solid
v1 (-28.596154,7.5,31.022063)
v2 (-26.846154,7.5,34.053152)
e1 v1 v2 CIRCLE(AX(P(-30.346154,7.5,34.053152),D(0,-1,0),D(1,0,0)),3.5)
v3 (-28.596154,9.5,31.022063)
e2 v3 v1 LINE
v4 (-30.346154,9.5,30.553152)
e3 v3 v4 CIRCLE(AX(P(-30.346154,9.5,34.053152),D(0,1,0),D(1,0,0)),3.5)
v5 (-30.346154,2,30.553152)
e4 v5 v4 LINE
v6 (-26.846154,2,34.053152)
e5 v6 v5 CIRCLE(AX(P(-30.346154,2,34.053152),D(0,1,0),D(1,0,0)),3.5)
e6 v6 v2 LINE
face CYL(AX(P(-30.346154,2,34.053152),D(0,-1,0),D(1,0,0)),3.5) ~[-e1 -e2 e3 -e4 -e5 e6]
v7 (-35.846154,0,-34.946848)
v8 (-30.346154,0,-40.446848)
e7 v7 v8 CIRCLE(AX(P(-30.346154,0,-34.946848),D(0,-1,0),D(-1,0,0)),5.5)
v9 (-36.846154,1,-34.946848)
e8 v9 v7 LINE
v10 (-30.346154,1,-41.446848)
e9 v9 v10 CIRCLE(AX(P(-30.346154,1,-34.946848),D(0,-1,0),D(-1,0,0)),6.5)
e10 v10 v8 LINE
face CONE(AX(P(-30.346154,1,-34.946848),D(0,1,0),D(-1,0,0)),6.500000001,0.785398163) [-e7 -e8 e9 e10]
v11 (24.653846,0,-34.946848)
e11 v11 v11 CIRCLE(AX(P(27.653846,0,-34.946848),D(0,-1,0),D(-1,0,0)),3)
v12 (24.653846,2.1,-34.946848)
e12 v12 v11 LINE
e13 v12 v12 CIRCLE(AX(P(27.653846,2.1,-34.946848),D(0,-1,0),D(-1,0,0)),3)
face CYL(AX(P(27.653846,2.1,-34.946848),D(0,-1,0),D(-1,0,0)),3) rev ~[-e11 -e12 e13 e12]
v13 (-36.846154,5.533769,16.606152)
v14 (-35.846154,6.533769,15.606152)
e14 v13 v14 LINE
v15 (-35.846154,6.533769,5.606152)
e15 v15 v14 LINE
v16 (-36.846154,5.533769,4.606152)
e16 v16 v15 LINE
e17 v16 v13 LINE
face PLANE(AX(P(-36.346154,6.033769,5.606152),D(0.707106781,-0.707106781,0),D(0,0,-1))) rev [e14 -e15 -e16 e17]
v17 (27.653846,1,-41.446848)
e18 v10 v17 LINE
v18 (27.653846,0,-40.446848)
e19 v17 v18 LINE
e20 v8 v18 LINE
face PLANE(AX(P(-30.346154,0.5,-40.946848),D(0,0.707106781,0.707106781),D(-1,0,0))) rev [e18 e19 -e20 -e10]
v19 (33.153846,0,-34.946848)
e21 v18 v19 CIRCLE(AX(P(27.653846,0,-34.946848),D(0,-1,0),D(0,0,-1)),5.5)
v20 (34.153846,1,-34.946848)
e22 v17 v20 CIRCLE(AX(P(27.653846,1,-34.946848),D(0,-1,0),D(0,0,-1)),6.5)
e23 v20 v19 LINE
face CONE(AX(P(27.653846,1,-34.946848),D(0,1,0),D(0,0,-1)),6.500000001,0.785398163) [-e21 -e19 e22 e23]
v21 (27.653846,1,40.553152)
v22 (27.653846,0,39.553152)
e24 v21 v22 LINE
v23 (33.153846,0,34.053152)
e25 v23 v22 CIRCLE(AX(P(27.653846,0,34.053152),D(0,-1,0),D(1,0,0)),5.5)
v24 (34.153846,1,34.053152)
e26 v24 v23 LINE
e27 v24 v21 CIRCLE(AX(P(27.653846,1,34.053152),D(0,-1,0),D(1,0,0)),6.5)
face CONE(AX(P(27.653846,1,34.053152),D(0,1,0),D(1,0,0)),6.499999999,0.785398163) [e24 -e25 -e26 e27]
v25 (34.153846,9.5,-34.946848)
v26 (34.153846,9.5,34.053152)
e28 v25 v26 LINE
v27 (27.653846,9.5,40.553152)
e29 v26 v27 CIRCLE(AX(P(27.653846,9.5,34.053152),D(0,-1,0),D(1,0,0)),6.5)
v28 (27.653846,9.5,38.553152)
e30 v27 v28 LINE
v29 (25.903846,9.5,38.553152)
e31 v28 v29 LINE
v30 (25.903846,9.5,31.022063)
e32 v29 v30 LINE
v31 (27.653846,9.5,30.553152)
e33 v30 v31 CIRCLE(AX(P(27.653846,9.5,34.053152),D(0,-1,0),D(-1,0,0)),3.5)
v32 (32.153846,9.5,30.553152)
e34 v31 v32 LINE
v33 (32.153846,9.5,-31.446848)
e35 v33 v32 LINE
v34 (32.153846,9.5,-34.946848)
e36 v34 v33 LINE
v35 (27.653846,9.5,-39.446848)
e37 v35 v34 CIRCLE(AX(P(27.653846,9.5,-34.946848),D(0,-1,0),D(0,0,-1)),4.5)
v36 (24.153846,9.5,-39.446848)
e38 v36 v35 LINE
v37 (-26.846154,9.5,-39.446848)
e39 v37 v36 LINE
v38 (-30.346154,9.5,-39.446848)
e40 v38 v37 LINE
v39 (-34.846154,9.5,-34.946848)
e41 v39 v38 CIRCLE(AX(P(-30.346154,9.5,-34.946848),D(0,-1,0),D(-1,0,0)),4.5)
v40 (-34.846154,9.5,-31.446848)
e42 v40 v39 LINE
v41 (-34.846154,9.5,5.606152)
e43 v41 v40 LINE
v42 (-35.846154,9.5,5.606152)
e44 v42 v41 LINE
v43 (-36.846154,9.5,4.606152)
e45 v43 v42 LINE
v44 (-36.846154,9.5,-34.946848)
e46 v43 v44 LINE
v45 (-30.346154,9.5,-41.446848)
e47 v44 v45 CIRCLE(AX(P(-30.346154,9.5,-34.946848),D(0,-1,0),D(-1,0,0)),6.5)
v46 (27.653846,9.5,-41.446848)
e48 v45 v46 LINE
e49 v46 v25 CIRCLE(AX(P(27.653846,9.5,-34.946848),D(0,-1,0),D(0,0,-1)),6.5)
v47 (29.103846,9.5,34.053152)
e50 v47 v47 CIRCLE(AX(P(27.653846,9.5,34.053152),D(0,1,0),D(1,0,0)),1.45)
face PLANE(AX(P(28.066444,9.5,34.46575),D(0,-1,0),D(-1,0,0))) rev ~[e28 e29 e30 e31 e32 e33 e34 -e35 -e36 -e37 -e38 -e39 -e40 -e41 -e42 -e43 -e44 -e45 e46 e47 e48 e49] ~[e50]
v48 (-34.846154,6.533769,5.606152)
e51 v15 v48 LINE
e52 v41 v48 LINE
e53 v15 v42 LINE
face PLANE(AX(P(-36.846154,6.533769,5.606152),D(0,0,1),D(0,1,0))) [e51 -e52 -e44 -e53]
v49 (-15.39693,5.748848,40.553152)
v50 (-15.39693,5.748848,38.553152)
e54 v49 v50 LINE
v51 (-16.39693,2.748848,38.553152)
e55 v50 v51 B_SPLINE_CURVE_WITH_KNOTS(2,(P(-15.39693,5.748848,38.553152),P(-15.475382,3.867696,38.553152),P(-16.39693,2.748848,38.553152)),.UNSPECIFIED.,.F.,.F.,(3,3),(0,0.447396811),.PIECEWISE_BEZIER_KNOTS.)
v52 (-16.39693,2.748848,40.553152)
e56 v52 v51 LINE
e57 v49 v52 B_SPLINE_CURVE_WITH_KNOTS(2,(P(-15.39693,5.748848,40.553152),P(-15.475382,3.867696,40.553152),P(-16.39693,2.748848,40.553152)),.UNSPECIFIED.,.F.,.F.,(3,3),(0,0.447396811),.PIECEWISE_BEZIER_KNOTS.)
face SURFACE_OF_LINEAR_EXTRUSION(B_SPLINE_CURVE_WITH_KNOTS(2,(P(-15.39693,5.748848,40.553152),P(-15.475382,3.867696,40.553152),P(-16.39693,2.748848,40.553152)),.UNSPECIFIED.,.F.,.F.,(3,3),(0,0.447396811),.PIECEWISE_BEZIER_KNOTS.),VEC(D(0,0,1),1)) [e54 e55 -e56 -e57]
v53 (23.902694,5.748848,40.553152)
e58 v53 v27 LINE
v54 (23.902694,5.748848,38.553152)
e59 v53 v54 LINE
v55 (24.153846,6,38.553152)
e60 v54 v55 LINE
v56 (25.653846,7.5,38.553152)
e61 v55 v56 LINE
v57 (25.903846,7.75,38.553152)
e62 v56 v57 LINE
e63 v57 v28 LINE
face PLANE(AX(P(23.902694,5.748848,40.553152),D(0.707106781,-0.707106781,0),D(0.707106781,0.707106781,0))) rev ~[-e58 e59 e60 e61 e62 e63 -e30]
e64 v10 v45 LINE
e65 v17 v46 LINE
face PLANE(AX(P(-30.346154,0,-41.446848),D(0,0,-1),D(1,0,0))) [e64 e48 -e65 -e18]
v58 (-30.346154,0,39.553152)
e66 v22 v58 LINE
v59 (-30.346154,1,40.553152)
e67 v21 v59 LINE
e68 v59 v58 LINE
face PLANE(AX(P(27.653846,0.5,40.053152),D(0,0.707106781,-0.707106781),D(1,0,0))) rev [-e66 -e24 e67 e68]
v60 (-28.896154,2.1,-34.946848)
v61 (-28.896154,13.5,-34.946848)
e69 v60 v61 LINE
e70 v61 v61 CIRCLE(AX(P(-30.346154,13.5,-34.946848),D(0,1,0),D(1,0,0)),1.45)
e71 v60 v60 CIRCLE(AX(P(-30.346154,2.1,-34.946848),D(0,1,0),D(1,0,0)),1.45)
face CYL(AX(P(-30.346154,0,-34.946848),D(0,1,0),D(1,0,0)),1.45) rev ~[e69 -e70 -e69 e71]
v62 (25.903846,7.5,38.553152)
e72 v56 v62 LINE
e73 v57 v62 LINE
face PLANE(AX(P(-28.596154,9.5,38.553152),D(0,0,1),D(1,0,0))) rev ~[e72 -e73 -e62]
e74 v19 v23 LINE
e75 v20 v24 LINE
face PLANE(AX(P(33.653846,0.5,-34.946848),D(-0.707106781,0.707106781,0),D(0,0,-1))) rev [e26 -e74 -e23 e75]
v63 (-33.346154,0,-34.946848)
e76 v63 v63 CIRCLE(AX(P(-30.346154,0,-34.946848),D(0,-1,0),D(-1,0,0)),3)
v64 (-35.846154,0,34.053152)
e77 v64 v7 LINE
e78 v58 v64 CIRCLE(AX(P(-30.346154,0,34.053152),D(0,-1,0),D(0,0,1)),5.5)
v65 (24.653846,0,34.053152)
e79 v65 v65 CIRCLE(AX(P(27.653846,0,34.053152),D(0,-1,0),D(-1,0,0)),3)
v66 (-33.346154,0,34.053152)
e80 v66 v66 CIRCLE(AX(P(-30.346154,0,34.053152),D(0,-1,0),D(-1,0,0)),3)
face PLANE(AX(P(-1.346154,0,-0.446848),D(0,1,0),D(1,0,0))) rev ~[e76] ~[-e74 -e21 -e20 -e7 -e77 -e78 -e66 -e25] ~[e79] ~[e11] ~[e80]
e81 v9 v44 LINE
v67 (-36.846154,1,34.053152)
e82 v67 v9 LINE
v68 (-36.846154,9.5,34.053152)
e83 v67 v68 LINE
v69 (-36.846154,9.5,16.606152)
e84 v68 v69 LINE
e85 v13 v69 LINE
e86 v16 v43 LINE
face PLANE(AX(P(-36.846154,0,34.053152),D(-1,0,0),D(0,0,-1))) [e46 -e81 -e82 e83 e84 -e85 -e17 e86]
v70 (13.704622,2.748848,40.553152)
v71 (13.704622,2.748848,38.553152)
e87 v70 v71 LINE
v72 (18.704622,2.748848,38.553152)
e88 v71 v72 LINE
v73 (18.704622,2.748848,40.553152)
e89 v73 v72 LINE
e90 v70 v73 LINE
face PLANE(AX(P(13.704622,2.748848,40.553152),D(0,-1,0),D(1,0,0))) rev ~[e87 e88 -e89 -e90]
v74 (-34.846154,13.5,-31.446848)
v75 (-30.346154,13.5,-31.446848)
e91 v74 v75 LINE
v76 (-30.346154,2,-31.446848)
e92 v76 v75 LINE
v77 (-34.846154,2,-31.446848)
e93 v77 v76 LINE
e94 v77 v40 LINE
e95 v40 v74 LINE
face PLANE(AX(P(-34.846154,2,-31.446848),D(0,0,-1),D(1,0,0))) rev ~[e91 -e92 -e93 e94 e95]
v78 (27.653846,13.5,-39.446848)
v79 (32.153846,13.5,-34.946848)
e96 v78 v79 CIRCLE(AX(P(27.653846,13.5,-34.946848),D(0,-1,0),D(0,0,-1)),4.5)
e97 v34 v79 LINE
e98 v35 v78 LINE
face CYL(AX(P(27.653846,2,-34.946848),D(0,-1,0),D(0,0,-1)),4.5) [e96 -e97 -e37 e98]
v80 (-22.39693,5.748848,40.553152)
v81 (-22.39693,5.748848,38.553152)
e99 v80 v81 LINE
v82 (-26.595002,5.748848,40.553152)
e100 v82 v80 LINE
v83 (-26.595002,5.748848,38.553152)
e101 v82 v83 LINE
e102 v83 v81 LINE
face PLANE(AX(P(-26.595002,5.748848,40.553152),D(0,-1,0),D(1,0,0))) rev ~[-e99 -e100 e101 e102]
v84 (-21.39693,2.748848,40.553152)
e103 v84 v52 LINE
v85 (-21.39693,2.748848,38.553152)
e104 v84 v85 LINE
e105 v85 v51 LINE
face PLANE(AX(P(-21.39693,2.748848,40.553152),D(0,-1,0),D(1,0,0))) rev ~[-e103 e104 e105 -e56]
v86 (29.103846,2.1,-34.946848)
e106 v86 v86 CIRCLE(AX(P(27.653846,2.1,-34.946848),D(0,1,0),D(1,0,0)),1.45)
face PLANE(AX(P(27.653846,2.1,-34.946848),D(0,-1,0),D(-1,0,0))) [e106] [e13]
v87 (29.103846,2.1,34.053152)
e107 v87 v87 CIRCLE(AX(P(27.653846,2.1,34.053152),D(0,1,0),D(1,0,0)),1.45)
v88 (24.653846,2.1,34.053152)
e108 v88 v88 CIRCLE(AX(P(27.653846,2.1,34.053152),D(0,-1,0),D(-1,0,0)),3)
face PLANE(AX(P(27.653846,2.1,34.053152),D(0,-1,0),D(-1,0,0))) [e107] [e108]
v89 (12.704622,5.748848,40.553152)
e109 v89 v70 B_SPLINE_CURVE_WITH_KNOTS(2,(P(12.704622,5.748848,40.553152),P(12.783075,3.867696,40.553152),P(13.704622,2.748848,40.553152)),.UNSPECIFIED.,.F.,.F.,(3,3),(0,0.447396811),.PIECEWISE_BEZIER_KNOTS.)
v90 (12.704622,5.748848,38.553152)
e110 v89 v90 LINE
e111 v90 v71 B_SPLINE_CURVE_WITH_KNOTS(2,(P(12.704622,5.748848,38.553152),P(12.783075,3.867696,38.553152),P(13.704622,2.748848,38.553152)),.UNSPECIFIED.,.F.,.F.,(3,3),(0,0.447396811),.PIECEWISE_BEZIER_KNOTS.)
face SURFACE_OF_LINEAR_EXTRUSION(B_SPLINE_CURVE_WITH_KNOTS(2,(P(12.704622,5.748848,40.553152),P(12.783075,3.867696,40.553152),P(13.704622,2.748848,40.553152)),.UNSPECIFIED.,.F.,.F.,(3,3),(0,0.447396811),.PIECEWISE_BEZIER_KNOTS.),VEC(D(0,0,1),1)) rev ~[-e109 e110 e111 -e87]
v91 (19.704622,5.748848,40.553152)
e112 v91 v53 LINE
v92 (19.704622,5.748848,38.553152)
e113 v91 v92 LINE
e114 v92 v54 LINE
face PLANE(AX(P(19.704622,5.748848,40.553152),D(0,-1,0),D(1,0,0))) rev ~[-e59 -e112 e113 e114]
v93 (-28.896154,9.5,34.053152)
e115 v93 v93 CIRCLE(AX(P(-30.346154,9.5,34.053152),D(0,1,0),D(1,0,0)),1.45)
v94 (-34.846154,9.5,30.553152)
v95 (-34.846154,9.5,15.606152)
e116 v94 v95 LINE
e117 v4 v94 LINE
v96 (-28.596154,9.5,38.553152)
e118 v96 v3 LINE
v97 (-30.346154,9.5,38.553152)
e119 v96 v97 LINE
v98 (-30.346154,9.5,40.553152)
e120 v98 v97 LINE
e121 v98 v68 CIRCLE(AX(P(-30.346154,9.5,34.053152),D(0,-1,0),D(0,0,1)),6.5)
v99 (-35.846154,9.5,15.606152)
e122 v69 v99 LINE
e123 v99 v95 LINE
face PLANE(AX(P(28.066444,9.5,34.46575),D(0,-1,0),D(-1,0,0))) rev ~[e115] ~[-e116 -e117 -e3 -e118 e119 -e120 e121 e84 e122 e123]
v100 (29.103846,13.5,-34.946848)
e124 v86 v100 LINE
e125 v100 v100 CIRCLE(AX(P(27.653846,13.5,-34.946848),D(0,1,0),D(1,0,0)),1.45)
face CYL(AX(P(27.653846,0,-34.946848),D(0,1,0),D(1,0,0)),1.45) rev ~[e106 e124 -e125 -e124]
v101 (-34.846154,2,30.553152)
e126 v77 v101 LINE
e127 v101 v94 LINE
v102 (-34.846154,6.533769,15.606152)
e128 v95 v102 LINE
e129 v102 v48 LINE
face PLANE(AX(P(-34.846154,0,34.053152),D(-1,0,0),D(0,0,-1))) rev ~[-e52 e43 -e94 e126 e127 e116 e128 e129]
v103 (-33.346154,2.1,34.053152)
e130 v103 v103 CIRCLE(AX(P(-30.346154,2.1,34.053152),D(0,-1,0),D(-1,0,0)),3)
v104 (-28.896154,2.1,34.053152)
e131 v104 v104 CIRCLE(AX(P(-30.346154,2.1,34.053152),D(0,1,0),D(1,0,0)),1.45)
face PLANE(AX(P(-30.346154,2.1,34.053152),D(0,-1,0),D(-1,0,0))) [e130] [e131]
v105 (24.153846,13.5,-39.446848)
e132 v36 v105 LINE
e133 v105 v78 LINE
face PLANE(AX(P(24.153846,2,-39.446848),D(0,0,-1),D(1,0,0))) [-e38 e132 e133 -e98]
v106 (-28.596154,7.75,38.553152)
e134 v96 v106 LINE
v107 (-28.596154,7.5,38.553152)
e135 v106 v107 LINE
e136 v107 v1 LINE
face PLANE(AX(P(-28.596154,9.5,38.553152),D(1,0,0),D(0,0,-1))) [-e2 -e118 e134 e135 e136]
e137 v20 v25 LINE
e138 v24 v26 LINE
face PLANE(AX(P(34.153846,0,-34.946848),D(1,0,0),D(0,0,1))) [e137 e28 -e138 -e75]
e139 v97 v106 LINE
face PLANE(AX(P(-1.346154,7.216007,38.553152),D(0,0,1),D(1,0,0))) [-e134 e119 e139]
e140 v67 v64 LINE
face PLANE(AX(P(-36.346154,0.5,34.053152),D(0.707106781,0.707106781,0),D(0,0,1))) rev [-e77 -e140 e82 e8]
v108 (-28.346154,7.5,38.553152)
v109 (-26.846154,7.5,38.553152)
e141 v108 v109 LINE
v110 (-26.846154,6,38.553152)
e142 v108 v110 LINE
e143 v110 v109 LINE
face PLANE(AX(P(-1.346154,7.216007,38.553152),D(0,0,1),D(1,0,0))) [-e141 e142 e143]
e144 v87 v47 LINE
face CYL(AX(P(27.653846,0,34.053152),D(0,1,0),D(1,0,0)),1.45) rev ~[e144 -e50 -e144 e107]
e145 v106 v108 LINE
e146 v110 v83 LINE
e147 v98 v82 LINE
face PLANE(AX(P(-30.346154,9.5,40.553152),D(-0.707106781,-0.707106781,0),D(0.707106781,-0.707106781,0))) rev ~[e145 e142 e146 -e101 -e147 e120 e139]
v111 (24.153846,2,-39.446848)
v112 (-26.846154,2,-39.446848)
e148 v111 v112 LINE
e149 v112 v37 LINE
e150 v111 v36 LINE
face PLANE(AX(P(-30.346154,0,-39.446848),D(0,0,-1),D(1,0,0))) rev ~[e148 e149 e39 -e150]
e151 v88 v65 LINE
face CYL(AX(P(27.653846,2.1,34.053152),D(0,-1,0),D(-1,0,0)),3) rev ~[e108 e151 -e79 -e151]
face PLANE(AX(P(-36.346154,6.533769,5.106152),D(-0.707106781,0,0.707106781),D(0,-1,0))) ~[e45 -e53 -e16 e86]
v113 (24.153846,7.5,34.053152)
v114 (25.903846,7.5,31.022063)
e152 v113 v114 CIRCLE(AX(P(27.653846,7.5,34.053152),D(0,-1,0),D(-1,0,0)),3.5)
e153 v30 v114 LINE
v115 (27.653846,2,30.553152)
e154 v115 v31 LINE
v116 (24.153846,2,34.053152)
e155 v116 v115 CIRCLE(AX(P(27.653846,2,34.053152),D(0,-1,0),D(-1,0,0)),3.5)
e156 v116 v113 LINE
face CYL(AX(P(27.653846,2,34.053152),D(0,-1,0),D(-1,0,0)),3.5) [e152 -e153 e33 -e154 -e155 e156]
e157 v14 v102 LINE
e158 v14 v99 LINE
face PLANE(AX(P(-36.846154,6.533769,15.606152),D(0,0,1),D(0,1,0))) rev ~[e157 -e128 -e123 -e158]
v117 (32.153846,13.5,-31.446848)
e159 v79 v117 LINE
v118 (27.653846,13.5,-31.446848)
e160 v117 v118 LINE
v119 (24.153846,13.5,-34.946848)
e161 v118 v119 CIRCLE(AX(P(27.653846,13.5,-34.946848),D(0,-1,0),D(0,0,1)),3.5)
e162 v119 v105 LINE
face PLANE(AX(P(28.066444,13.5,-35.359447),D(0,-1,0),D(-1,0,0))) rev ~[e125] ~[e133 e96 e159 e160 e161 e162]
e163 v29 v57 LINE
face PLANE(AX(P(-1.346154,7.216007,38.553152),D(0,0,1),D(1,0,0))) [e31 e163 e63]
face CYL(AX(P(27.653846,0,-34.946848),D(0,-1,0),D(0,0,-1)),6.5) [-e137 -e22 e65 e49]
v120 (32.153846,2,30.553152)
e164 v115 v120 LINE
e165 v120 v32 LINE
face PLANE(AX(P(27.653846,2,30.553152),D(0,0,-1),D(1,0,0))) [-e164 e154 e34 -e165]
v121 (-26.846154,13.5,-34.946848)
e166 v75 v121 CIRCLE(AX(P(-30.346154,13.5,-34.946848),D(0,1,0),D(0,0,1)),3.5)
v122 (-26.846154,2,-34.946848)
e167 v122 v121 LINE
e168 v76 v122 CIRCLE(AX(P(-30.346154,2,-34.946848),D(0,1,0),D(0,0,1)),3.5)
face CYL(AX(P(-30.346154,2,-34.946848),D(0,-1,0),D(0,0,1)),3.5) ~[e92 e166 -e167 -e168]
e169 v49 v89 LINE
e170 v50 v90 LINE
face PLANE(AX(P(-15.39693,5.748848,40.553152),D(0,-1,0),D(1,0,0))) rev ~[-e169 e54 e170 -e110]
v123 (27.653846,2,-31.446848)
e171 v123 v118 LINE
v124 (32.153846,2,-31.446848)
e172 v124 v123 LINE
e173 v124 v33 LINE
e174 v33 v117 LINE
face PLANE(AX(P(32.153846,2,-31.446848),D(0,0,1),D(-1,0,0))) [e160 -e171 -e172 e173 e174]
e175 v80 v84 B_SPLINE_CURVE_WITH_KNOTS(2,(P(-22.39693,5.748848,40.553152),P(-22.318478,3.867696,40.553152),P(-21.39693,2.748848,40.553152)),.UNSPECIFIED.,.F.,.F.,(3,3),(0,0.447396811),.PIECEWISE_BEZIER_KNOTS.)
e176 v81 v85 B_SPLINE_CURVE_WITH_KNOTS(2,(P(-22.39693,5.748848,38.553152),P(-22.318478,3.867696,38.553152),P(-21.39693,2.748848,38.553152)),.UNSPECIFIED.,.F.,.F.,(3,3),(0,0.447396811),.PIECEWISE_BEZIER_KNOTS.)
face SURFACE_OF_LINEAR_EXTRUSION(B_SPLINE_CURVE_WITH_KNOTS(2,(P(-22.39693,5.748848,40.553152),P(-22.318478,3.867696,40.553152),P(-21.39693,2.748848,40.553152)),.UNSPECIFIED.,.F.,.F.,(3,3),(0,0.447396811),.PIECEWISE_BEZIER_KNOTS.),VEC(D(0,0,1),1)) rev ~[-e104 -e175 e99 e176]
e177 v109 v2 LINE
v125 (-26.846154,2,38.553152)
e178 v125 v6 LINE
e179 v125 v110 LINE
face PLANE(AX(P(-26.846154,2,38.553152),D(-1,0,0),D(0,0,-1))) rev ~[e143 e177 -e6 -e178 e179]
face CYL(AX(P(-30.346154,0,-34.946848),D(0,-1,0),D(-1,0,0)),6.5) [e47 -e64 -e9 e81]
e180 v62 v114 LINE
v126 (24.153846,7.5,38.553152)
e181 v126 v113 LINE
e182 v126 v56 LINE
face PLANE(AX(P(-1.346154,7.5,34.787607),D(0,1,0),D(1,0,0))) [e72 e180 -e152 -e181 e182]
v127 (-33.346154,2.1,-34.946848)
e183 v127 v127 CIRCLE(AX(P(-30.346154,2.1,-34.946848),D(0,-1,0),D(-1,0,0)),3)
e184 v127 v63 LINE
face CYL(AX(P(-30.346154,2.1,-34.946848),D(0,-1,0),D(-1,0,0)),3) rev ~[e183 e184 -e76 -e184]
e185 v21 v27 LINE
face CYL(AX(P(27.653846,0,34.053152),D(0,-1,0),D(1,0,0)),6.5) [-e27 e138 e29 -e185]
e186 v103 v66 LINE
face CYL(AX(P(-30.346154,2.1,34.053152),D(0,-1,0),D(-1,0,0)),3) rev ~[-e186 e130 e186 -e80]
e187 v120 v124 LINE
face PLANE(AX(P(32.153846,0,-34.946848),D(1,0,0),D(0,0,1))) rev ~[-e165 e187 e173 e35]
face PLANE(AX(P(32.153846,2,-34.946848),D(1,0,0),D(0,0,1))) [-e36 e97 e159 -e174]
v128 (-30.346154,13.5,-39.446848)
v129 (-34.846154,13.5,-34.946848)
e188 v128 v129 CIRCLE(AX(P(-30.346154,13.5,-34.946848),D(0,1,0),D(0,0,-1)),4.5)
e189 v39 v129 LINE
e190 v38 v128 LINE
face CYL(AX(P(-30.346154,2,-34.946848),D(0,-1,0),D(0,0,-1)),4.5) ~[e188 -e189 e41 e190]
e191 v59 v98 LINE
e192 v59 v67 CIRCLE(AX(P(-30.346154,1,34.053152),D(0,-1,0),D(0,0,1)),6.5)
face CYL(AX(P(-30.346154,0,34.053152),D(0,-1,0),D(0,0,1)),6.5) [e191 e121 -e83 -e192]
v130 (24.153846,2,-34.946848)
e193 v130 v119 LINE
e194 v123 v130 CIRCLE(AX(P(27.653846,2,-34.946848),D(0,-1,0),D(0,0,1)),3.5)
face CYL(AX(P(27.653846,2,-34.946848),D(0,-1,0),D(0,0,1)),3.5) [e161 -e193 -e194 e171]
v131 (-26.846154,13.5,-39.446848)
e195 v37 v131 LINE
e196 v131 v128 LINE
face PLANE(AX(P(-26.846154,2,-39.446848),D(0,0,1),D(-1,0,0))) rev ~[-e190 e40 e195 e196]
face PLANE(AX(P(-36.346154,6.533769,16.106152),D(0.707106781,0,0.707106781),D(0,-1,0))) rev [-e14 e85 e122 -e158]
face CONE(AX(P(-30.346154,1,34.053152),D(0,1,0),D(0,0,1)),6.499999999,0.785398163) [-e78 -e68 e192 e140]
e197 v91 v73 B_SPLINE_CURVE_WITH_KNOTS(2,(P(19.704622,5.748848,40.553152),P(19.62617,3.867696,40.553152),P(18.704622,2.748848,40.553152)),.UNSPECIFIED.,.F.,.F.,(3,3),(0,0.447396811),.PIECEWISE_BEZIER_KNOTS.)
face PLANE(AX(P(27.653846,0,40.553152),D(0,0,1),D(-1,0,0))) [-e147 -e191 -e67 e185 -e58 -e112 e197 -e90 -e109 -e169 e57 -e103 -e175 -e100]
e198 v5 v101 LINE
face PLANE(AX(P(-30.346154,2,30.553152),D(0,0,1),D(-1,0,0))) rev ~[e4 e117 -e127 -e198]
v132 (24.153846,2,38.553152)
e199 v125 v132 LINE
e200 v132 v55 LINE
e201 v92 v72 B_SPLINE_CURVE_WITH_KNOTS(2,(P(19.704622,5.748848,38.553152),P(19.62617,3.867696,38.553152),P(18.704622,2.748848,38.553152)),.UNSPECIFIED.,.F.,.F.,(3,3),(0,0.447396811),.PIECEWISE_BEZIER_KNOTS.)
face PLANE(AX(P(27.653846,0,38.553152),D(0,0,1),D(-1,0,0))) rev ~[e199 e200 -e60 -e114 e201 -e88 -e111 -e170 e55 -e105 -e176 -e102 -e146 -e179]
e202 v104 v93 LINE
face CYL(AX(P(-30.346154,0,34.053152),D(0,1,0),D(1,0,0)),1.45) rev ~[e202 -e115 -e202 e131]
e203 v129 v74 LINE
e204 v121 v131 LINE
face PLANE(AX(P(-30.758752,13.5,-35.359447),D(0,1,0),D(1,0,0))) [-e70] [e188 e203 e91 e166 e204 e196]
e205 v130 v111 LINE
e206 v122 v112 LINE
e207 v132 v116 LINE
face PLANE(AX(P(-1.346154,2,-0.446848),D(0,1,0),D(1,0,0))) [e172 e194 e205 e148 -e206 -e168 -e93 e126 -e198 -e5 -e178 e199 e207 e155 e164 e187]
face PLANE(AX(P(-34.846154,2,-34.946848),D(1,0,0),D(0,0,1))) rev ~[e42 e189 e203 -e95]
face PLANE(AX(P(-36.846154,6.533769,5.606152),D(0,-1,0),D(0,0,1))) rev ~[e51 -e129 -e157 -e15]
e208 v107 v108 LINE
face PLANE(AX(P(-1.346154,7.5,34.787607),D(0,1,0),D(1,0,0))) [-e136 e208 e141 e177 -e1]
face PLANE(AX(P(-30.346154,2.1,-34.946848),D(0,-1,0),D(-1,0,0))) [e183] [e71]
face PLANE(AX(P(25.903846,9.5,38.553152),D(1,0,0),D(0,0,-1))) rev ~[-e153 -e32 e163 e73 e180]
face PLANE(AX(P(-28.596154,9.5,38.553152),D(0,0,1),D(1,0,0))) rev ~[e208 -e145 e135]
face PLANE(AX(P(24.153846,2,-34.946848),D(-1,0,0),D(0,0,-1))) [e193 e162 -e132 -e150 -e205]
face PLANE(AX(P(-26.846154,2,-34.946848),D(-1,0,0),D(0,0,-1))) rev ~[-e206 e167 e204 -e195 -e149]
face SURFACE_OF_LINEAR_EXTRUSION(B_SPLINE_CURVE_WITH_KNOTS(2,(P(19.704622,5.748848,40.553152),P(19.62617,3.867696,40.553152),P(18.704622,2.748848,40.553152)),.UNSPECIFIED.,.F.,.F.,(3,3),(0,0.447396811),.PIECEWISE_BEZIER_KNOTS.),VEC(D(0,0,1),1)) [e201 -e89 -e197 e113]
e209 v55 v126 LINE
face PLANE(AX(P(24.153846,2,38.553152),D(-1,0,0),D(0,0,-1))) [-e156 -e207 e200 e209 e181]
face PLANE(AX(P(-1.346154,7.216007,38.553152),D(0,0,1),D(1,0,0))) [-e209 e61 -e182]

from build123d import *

# Parameters (mm, degrees)
BOSS_EXTRUDE1_DEPTH                                = 9.5
BOSS_EXTRUDE2_DEPTH                                = 2
BOSS_EXTRUDE4_DEPTH                                = 11.5
BOSS_EXTRUDE6_DEPTH                                = 7.5
CUT_EXTRUDE1_DEPTH                                 = 2
CUT_EXTRUDE2_REACH                                 = 85.313
SKETCH9_W                                          = 10
SKETCH9_H                                          = 3
CHAMFER1_SIZE                                      = 1
CHAMFER2_SIZE                                      = 1
CBORE_FOR_M2_5_PAN_HEAD_MACHINE_SCREW1_D           = 2.9
CBORE_FOR_M2_5_PAN_HEAD_MACHINE_SCREW1_CBORE_D     = 6
CBORE_FOR_M2_5_PAN_HEAD_MACHINE_SCREW1_CBORE_DEPTH = 2.1
CBORE_FOR_M2_5_PAN_HEAD_MACHINE_SCREW2_D           = 2.9
CBORE_FOR_M2_5_PAN_HEAD_MACHINE_SCREW2_CBORE_D     = 6
CBORE_FOR_M2_5_PAN_HEAD_MACHINE_SCREW2_CBORE_DEPTH = 2.1
CBORE_FOR_M2_5_PAN_HEAD_MACHINE_SCREW3_D           = 2.9
CBORE_FOR_M2_5_PAN_HEAD_MACHINE_SCREW3_CBORE_D     = 6
CBORE_FOR_M2_5_PAN_HEAD_MACHINE_SCREW3_CBORE_DEPTH = 2.1
CBORE_FOR_M2_5_PAN_HEAD_MACHINE_SCREW4_D           = 2.9
CBORE_FOR_M2_5_PAN_HEAD_MACHINE_SCREW4_CBORE_D     = 6
CBORE_FOR_M2_5_PAN_HEAD_MACHINE_SCREW4_CBORE_DEPTH = 2.1
SKETCH18_W                                         = 54.5
SKETCH18_H                                         = 7.531088913
CUT_EXTRUDE3_DEPTH                                 = 2


with BuildPart() as part:
    # Sketch2 → Boss-Extrude1 (new body)
    with BuildSketch(Plane(origin=(0, 0, 0), x_dir=(1, 0, 0), z_dir=(0, 1, 0))):
        with BuildLine():
            Line((-30.346153846, 41.446848386), (27.653846154, 41.446848386))
            ThreePointArc((27.653846154, 41.446848386), (32.250040232, 39.543042463), (34.153846154, 34.946848386))
            Line((34.153846154, 34.946848386), (34.153846154, -34.053151614))
            ThreePointArc((34.153846154, -34.053151614), (32.250040232, -38.649345692), (27.653846154, -40.553151614))
            Line((27.653846154, -40.553151614), (-30.346153846, -40.553151614))
            ThreePointArc((-30.346153846, -40.553151614), (-34.942347924, -38.649345692), (-36.846153846, -34.053151614))
            Line((-36.846153846, -34.053151614), (-36.846153846, 34.946848386))
            ThreePointArc((-36.846153846, 34.946848386), (-34.942347924, 39.543042463), (-30.346153846, 41.446848386))
        make_face()
        with BuildLine():
            Line((-30.346153846, 39.446848386), (27.653846154, 39.446848386))
            ThreePointArc((27.653846154, 39.446848386), (30.835826669, 38.128828901), (32.153846154, 34.946848386))
            Line((32.153846154, 34.946848386), (32.153846154, -34.053151614))
            ThreePointArc((32.153846154, -34.053151614), (30.835826669, -37.23513213), (27.653846154, -38.553151614))
            Line((27.653846154, -38.553151614), (-30.346153846, -38.553151614))
            ThreePointArc((-30.346153846, -38.553151614), (-33.528134361, -37.23513213), (-34.846153846, -34.053151614))
            Line((-34.846153846, -34.053151614), (-34.846153846, 34.946848386))
            ThreePointArc((-34.846153846, 34.946848386), (-33.528134361, 38.128828901), (-30.346153846, 39.446848386))
        make_face(mode=Mode.SUBTRACT)
    extrude(amount=BOSS_EXTRUDE1_DEPTH)

    # Sketch3 → Boss-Extrude2 (add)
    with BuildSketch(Plane(origin=(0, 0, 0), x_dir=(1, 0, 0), z_dir=(0, 1, 0))):
        with BuildLine():
            Line((-30.346153846, -38.553151614), (27.653846154, -38.553151614))
            ThreePointArc((27.653846154, -38.553151614), (30.835826669, -37.23513213), (32.153846154, -34.053151614))
            Line((32.153846154, -34.053151614), (32.153846154, 34.946848386))
            ThreePointArc((32.153846154, 34.946848386), (30.835826669, 38.128828901), (27.653846154, 39.446848386))
            Line((27.653846154, 39.446848386), (-30.346153846, 39.446848386))
            ThreePointArc((-30.346153846, 39.446848386), (-33.528134361, 38.128828901), (-34.846153846, 34.946848386))
            Line((-34.846153846, 34.946848386), (-34.846153846, -34.053151614))
            ThreePointArc((-34.846153846, -34.053151614), (-33.528134361, -37.23513213), (-30.346153846, -38.553151614))
        make_face()
    extrude(amount=BOSS_EXTRUDE2_DEPTH)

    # Sketch6 → Boss-Extrude4 (add)
    with BuildSketch(Plane(origin=(0, 2, 0), x_dir=(1, 0, 0), z_dir=(0, 1, 0))):
        with BuildLine():
            Line((-26.846153846, 34.946848386), (-26.846153846, 39.446848386))
            Line((-26.846153846, 39.446848386), (-30.346153846, 39.446848386))
            ThreePointArc((-30.346153846, 39.446848386), (-33.528134361, 38.128828901), (-34.846153846, 34.946848386))
            Line((-34.846153846, 34.946848386), (-34.846153846, 31.446848386))
            Line((-34.846153846, 31.446848386), (-30.346153846, 31.446848386))
            ThreePointArc((-30.346153846, 31.446848386), (-27.871280112, 32.471974652), (-26.846153846, 34.946848386))
        make_face()
        with BuildLine():
            Line((24.153846154, 34.946848386), (24.153846154, 39.446848386))
            Line((24.153846154, 39.446848386), (27.653846154, 39.446848386))
            ThreePointArc((27.653846154, 39.446848386), (30.835826669, 38.128828901), (32.153846154, 34.946848386))
            Line((32.153846154, 34.946848386), (32.153846154, 31.446848386))
            Line((32.153846154, 31.446848386), (27.653846154, 31.446848386))
            ThreePointArc((27.653846154, 31.446848386), (25.17897242, 32.471974652), (24.153846154, 34.946848386))
        make_face()
    extrude(amount=BOSS_EXTRUDE4_DEPTH)

    # Sketch8 → Boss-Extrude6 (add)
    with BuildSketch(Plane(origin=(0, 2, 0), x_dir=(1, 0, 0), z_dir=(0, 1, 0))):
        with BuildLine():
            Line((32.153846154, -30.553151614), (32.153846154, -34.053151614))
            ThreePointArc((32.153846154, -34.053151614), (30.835826669, -37.23513213), (27.653846154, -38.553151614))
            Line((27.653846154, -38.553151614), (24.153846154, -38.553151614))
            Line((24.153846154, -38.553151614), (24.153846154, -34.053151614))
            ThreePointArc((24.153846154, -34.053151614), (25.17897242, -31.57827788), (27.653846154, -30.553151614))
            Line((27.653846154, -30.553151614), (32.153846154, -30.553151614))
        make_face()
        with BuildLine():
            Line((-34.846153846, -30.553151614), (-34.846153846, -34.053151614))
            ThreePointArc((-34.846153846, -34.053151614), (-33.528134361, -37.23513213), (-30.346153846, -38.553151614))
            Line((-30.346153846, -38.553151614), (-26.846153846, -38.553151614))
            Line((-26.846153846, -38.553151614), (-26.846153846, -34.053151614))
            ThreePointArc((-26.846153846, -34.053151614), (-27.871280112, -31.57827788), (-30.346153846, -30.553151614))
            Line((-30.346153846, -30.553151614), (-34.846153846, -30.553151614))
        make_face()
    extrude(amount=BOSS_EXTRUDE6_DEPTH)

    # Sketch7 → Cut-Extrude1 (cut)
    with BuildSketch(Plane.XY.offset(40.553151614)):
        with BuildLine():
            Line((27.653846154, 9.5), (-30.346153846, 9.5))
            Line((-30.346153846, 9.5), (-26.595001855, 5.748848009))
            Line((-26.595001855, 5.748848009), (-22.39693017, 5.748848009))
            add(Edge.make_bspline(
                [(-22.39693017, 5.748848009), (-22.318478092, 3.867695791), (-21.39693017, 2.748848009)],
                knots=[0, 0, 0, 0.447396811, 0.447396811, 0.447396811], degree=2))
            Line((-21.39693017, 2.748848009), (-16.39693017, 2.748848009))
            add(Edge.make_bspline(
                [(-15.39693017, 5.748848009), (-15.475382247, 3.867695791), (-16.39693017, 2.748848009)],
                knots=[0, 0, 0, 0.447396811, 0.447396811, 0.447396811], degree=2))
            Line((-15.39693017, 5.748848009), (12.704622477, 5.748848009))
            add(Edge.make_bspline(
                [(12.704622477, 5.748848009), (12.783074555, 3.867695791), (13.704622477, 2.748848009)],
                knots=[0, 0, 0, 0.447396811, 0.447396811, 0.447396811], degree=2))
            Line((13.704622477, 2.748848009), (18.704622477, 2.748848009))
            add(Edge.make_bspline(
                [(19.704622477, 5.748848009), (19.6261704, 3.867695791), (18.704622477, 2.748848009)],
                knots=[0, 0, 0, 0.447396811, 0.447396811, 0.447396811], degree=2))
            Line((19.704622477, 5.748848009), (23.902694163, 5.748848009))
            Line((23.902694163, 5.748848009), (27.653846154, 9.5))
        make_face()
    extrude(amount=-CUT_EXTRUDE1_DEPTH, mode=Mode.SUBTRACT)

    # Sketch9 → Cut-Extrude2 (cut, up to next)
    with BuildSketch(Plane.ZY.offset(36.846153846), mode=Mode.PRIVATE) as cut_extrude2_sk1:
        with Locations((10.60615222, 8.033769059)):
            Rectangle(SKETCH9_W, SKETCH9_H)
    cut_extrude2_tool1 = extrude(cut_extrude2_sk1.sketch, amount=-CUT_EXTRUDE2_REACH, mode=Mode.PRIVATE) & part.part
    add(cut_extrude2_tool1.solids().sort_by_distance((-36.846154, 8.033769, 10.606152))[0], mode=Mode.SUBTRACT)

    # Chamfer1
    chamfer1_edges = [part.edges().sort_by_distance(p)[0] for p in [
        (-36.846153846, 8.01688453, 15.60615222),
        (-36.846153846, 8.01688453, 5.60615222),
        (-36.846153846, 6.533769059, 10.60615222),
    ]]
    chamfer(chamfer1_edges, length=CHAMFER1_SIZE)

    # Chamfer2
    chamfer2_edges = [part.edges().sort_by_distance(p)[0] for p in [
        (-36.846153846, 0, -0.446848386),
        (-34.942347924, 0, -39.543042463),
        (-1.346153846, 0, -41.446848386),
        (32.250040232, 0, -39.543042463),
        (34.153846154, 0, -0.446848386),
        (32.250040232, 0, 38.649345692),
        (-1.346153846, 0, 40.553151614),
        (-34.942347924, 0, 38.649345692),
    ]]
    chamfer(chamfer2_edges, length=CHAMFER2_SIZE)

    # CBORE for M2.5 Pan Head Machine Screw1 (through all)
    with Locations(Plane(origin=(0, 0, 0), x_dir=(-1, 0, 0), z_dir=(0, -1, 0))):
        with Locations((-27.653846154, 34.946848386)):
            CounterBoreHole(CBORE_FOR_M2_5_PAN_HEAD_MACHINE_SCREW1_D / 2, CBORE_FOR_M2_5_PAN_HEAD_MACHINE_SCREW1_CBORE_D / 2, CBORE_FOR_M2_5_PAN_HEAD_MACHINE_SCREW1_CBORE_DEPTH)

    # CBORE for M2.5 Pan Head Machine Screw2 (through all)
    with Locations(Plane(origin=(0, 0, 0), x_dir=(-1, 0, 0), z_dir=(0, -1, 0))):
        with Locations((30.346153846, 34.946848386)):
            CounterBoreHole(CBORE_FOR_M2_5_PAN_HEAD_MACHINE_SCREW2_D / 2, CBORE_FOR_M2_5_PAN_HEAD_MACHINE_SCREW2_CBORE_D / 2, CBORE_FOR_M2_5_PAN_HEAD_MACHINE_SCREW2_CBORE_DEPTH)

    # CBORE for M2.5 Pan Head Machine Screw3 (through all)
    with Locations(Plane(origin=(0, 0, 0), x_dir=(-1, 0, 0), z_dir=(0, -1, 0))):
        with Locations((-27.653846154, -34.053151614)):
            CounterBoreHole(CBORE_FOR_M2_5_PAN_HEAD_MACHINE_SCREW3_D / 2, CBORE_FOR_M2_5_PAN_HEAD_MACHINE_SCREW3_CBORE_D / 2, CBORE_FOR_M2_5_PAN_HEAD_MACHINE_SCREW3_CBORE_DEPTH)

    # CBORE for M2.5 Pan Head Machine Screw4 (through all)
    with Locations(Plane(origin=(0, 0, 0), x_dir=(-1, 0, 0), z_dir=(0, -1, 0))):
        with Locations((30.346153846, -34.053151614)):
            CounterBoreHole(CBORE_FOR_M2_5_PAN_HEAD_MACHINE_SCREW4_D / 2, CBORE_FOR_M2_5_PAN_HEAD_MACHINE_SCREW4_CBORE_D / 2, CBORE_FOR_M2_5_PAN_HEAD_MACHINE_SCREW4_CBORE_DEPTH)

    # Sketch18 → Cut-Extrude3 (cut)
    with BuildSketch(Plane(origin=(0, 9.5, 0), x_dir=(1, 0, 0), z_dir=(0, 1, 0))):
        with Locations((-1.346153846, -34.787607158)):
            Rectangle(SKETCH18_W, SKETCH18_H)
    extrude(amount=-CUT_EXTRUDE3_DEPTH, mode=Mode.SUBTRACT)


solid = part.part
